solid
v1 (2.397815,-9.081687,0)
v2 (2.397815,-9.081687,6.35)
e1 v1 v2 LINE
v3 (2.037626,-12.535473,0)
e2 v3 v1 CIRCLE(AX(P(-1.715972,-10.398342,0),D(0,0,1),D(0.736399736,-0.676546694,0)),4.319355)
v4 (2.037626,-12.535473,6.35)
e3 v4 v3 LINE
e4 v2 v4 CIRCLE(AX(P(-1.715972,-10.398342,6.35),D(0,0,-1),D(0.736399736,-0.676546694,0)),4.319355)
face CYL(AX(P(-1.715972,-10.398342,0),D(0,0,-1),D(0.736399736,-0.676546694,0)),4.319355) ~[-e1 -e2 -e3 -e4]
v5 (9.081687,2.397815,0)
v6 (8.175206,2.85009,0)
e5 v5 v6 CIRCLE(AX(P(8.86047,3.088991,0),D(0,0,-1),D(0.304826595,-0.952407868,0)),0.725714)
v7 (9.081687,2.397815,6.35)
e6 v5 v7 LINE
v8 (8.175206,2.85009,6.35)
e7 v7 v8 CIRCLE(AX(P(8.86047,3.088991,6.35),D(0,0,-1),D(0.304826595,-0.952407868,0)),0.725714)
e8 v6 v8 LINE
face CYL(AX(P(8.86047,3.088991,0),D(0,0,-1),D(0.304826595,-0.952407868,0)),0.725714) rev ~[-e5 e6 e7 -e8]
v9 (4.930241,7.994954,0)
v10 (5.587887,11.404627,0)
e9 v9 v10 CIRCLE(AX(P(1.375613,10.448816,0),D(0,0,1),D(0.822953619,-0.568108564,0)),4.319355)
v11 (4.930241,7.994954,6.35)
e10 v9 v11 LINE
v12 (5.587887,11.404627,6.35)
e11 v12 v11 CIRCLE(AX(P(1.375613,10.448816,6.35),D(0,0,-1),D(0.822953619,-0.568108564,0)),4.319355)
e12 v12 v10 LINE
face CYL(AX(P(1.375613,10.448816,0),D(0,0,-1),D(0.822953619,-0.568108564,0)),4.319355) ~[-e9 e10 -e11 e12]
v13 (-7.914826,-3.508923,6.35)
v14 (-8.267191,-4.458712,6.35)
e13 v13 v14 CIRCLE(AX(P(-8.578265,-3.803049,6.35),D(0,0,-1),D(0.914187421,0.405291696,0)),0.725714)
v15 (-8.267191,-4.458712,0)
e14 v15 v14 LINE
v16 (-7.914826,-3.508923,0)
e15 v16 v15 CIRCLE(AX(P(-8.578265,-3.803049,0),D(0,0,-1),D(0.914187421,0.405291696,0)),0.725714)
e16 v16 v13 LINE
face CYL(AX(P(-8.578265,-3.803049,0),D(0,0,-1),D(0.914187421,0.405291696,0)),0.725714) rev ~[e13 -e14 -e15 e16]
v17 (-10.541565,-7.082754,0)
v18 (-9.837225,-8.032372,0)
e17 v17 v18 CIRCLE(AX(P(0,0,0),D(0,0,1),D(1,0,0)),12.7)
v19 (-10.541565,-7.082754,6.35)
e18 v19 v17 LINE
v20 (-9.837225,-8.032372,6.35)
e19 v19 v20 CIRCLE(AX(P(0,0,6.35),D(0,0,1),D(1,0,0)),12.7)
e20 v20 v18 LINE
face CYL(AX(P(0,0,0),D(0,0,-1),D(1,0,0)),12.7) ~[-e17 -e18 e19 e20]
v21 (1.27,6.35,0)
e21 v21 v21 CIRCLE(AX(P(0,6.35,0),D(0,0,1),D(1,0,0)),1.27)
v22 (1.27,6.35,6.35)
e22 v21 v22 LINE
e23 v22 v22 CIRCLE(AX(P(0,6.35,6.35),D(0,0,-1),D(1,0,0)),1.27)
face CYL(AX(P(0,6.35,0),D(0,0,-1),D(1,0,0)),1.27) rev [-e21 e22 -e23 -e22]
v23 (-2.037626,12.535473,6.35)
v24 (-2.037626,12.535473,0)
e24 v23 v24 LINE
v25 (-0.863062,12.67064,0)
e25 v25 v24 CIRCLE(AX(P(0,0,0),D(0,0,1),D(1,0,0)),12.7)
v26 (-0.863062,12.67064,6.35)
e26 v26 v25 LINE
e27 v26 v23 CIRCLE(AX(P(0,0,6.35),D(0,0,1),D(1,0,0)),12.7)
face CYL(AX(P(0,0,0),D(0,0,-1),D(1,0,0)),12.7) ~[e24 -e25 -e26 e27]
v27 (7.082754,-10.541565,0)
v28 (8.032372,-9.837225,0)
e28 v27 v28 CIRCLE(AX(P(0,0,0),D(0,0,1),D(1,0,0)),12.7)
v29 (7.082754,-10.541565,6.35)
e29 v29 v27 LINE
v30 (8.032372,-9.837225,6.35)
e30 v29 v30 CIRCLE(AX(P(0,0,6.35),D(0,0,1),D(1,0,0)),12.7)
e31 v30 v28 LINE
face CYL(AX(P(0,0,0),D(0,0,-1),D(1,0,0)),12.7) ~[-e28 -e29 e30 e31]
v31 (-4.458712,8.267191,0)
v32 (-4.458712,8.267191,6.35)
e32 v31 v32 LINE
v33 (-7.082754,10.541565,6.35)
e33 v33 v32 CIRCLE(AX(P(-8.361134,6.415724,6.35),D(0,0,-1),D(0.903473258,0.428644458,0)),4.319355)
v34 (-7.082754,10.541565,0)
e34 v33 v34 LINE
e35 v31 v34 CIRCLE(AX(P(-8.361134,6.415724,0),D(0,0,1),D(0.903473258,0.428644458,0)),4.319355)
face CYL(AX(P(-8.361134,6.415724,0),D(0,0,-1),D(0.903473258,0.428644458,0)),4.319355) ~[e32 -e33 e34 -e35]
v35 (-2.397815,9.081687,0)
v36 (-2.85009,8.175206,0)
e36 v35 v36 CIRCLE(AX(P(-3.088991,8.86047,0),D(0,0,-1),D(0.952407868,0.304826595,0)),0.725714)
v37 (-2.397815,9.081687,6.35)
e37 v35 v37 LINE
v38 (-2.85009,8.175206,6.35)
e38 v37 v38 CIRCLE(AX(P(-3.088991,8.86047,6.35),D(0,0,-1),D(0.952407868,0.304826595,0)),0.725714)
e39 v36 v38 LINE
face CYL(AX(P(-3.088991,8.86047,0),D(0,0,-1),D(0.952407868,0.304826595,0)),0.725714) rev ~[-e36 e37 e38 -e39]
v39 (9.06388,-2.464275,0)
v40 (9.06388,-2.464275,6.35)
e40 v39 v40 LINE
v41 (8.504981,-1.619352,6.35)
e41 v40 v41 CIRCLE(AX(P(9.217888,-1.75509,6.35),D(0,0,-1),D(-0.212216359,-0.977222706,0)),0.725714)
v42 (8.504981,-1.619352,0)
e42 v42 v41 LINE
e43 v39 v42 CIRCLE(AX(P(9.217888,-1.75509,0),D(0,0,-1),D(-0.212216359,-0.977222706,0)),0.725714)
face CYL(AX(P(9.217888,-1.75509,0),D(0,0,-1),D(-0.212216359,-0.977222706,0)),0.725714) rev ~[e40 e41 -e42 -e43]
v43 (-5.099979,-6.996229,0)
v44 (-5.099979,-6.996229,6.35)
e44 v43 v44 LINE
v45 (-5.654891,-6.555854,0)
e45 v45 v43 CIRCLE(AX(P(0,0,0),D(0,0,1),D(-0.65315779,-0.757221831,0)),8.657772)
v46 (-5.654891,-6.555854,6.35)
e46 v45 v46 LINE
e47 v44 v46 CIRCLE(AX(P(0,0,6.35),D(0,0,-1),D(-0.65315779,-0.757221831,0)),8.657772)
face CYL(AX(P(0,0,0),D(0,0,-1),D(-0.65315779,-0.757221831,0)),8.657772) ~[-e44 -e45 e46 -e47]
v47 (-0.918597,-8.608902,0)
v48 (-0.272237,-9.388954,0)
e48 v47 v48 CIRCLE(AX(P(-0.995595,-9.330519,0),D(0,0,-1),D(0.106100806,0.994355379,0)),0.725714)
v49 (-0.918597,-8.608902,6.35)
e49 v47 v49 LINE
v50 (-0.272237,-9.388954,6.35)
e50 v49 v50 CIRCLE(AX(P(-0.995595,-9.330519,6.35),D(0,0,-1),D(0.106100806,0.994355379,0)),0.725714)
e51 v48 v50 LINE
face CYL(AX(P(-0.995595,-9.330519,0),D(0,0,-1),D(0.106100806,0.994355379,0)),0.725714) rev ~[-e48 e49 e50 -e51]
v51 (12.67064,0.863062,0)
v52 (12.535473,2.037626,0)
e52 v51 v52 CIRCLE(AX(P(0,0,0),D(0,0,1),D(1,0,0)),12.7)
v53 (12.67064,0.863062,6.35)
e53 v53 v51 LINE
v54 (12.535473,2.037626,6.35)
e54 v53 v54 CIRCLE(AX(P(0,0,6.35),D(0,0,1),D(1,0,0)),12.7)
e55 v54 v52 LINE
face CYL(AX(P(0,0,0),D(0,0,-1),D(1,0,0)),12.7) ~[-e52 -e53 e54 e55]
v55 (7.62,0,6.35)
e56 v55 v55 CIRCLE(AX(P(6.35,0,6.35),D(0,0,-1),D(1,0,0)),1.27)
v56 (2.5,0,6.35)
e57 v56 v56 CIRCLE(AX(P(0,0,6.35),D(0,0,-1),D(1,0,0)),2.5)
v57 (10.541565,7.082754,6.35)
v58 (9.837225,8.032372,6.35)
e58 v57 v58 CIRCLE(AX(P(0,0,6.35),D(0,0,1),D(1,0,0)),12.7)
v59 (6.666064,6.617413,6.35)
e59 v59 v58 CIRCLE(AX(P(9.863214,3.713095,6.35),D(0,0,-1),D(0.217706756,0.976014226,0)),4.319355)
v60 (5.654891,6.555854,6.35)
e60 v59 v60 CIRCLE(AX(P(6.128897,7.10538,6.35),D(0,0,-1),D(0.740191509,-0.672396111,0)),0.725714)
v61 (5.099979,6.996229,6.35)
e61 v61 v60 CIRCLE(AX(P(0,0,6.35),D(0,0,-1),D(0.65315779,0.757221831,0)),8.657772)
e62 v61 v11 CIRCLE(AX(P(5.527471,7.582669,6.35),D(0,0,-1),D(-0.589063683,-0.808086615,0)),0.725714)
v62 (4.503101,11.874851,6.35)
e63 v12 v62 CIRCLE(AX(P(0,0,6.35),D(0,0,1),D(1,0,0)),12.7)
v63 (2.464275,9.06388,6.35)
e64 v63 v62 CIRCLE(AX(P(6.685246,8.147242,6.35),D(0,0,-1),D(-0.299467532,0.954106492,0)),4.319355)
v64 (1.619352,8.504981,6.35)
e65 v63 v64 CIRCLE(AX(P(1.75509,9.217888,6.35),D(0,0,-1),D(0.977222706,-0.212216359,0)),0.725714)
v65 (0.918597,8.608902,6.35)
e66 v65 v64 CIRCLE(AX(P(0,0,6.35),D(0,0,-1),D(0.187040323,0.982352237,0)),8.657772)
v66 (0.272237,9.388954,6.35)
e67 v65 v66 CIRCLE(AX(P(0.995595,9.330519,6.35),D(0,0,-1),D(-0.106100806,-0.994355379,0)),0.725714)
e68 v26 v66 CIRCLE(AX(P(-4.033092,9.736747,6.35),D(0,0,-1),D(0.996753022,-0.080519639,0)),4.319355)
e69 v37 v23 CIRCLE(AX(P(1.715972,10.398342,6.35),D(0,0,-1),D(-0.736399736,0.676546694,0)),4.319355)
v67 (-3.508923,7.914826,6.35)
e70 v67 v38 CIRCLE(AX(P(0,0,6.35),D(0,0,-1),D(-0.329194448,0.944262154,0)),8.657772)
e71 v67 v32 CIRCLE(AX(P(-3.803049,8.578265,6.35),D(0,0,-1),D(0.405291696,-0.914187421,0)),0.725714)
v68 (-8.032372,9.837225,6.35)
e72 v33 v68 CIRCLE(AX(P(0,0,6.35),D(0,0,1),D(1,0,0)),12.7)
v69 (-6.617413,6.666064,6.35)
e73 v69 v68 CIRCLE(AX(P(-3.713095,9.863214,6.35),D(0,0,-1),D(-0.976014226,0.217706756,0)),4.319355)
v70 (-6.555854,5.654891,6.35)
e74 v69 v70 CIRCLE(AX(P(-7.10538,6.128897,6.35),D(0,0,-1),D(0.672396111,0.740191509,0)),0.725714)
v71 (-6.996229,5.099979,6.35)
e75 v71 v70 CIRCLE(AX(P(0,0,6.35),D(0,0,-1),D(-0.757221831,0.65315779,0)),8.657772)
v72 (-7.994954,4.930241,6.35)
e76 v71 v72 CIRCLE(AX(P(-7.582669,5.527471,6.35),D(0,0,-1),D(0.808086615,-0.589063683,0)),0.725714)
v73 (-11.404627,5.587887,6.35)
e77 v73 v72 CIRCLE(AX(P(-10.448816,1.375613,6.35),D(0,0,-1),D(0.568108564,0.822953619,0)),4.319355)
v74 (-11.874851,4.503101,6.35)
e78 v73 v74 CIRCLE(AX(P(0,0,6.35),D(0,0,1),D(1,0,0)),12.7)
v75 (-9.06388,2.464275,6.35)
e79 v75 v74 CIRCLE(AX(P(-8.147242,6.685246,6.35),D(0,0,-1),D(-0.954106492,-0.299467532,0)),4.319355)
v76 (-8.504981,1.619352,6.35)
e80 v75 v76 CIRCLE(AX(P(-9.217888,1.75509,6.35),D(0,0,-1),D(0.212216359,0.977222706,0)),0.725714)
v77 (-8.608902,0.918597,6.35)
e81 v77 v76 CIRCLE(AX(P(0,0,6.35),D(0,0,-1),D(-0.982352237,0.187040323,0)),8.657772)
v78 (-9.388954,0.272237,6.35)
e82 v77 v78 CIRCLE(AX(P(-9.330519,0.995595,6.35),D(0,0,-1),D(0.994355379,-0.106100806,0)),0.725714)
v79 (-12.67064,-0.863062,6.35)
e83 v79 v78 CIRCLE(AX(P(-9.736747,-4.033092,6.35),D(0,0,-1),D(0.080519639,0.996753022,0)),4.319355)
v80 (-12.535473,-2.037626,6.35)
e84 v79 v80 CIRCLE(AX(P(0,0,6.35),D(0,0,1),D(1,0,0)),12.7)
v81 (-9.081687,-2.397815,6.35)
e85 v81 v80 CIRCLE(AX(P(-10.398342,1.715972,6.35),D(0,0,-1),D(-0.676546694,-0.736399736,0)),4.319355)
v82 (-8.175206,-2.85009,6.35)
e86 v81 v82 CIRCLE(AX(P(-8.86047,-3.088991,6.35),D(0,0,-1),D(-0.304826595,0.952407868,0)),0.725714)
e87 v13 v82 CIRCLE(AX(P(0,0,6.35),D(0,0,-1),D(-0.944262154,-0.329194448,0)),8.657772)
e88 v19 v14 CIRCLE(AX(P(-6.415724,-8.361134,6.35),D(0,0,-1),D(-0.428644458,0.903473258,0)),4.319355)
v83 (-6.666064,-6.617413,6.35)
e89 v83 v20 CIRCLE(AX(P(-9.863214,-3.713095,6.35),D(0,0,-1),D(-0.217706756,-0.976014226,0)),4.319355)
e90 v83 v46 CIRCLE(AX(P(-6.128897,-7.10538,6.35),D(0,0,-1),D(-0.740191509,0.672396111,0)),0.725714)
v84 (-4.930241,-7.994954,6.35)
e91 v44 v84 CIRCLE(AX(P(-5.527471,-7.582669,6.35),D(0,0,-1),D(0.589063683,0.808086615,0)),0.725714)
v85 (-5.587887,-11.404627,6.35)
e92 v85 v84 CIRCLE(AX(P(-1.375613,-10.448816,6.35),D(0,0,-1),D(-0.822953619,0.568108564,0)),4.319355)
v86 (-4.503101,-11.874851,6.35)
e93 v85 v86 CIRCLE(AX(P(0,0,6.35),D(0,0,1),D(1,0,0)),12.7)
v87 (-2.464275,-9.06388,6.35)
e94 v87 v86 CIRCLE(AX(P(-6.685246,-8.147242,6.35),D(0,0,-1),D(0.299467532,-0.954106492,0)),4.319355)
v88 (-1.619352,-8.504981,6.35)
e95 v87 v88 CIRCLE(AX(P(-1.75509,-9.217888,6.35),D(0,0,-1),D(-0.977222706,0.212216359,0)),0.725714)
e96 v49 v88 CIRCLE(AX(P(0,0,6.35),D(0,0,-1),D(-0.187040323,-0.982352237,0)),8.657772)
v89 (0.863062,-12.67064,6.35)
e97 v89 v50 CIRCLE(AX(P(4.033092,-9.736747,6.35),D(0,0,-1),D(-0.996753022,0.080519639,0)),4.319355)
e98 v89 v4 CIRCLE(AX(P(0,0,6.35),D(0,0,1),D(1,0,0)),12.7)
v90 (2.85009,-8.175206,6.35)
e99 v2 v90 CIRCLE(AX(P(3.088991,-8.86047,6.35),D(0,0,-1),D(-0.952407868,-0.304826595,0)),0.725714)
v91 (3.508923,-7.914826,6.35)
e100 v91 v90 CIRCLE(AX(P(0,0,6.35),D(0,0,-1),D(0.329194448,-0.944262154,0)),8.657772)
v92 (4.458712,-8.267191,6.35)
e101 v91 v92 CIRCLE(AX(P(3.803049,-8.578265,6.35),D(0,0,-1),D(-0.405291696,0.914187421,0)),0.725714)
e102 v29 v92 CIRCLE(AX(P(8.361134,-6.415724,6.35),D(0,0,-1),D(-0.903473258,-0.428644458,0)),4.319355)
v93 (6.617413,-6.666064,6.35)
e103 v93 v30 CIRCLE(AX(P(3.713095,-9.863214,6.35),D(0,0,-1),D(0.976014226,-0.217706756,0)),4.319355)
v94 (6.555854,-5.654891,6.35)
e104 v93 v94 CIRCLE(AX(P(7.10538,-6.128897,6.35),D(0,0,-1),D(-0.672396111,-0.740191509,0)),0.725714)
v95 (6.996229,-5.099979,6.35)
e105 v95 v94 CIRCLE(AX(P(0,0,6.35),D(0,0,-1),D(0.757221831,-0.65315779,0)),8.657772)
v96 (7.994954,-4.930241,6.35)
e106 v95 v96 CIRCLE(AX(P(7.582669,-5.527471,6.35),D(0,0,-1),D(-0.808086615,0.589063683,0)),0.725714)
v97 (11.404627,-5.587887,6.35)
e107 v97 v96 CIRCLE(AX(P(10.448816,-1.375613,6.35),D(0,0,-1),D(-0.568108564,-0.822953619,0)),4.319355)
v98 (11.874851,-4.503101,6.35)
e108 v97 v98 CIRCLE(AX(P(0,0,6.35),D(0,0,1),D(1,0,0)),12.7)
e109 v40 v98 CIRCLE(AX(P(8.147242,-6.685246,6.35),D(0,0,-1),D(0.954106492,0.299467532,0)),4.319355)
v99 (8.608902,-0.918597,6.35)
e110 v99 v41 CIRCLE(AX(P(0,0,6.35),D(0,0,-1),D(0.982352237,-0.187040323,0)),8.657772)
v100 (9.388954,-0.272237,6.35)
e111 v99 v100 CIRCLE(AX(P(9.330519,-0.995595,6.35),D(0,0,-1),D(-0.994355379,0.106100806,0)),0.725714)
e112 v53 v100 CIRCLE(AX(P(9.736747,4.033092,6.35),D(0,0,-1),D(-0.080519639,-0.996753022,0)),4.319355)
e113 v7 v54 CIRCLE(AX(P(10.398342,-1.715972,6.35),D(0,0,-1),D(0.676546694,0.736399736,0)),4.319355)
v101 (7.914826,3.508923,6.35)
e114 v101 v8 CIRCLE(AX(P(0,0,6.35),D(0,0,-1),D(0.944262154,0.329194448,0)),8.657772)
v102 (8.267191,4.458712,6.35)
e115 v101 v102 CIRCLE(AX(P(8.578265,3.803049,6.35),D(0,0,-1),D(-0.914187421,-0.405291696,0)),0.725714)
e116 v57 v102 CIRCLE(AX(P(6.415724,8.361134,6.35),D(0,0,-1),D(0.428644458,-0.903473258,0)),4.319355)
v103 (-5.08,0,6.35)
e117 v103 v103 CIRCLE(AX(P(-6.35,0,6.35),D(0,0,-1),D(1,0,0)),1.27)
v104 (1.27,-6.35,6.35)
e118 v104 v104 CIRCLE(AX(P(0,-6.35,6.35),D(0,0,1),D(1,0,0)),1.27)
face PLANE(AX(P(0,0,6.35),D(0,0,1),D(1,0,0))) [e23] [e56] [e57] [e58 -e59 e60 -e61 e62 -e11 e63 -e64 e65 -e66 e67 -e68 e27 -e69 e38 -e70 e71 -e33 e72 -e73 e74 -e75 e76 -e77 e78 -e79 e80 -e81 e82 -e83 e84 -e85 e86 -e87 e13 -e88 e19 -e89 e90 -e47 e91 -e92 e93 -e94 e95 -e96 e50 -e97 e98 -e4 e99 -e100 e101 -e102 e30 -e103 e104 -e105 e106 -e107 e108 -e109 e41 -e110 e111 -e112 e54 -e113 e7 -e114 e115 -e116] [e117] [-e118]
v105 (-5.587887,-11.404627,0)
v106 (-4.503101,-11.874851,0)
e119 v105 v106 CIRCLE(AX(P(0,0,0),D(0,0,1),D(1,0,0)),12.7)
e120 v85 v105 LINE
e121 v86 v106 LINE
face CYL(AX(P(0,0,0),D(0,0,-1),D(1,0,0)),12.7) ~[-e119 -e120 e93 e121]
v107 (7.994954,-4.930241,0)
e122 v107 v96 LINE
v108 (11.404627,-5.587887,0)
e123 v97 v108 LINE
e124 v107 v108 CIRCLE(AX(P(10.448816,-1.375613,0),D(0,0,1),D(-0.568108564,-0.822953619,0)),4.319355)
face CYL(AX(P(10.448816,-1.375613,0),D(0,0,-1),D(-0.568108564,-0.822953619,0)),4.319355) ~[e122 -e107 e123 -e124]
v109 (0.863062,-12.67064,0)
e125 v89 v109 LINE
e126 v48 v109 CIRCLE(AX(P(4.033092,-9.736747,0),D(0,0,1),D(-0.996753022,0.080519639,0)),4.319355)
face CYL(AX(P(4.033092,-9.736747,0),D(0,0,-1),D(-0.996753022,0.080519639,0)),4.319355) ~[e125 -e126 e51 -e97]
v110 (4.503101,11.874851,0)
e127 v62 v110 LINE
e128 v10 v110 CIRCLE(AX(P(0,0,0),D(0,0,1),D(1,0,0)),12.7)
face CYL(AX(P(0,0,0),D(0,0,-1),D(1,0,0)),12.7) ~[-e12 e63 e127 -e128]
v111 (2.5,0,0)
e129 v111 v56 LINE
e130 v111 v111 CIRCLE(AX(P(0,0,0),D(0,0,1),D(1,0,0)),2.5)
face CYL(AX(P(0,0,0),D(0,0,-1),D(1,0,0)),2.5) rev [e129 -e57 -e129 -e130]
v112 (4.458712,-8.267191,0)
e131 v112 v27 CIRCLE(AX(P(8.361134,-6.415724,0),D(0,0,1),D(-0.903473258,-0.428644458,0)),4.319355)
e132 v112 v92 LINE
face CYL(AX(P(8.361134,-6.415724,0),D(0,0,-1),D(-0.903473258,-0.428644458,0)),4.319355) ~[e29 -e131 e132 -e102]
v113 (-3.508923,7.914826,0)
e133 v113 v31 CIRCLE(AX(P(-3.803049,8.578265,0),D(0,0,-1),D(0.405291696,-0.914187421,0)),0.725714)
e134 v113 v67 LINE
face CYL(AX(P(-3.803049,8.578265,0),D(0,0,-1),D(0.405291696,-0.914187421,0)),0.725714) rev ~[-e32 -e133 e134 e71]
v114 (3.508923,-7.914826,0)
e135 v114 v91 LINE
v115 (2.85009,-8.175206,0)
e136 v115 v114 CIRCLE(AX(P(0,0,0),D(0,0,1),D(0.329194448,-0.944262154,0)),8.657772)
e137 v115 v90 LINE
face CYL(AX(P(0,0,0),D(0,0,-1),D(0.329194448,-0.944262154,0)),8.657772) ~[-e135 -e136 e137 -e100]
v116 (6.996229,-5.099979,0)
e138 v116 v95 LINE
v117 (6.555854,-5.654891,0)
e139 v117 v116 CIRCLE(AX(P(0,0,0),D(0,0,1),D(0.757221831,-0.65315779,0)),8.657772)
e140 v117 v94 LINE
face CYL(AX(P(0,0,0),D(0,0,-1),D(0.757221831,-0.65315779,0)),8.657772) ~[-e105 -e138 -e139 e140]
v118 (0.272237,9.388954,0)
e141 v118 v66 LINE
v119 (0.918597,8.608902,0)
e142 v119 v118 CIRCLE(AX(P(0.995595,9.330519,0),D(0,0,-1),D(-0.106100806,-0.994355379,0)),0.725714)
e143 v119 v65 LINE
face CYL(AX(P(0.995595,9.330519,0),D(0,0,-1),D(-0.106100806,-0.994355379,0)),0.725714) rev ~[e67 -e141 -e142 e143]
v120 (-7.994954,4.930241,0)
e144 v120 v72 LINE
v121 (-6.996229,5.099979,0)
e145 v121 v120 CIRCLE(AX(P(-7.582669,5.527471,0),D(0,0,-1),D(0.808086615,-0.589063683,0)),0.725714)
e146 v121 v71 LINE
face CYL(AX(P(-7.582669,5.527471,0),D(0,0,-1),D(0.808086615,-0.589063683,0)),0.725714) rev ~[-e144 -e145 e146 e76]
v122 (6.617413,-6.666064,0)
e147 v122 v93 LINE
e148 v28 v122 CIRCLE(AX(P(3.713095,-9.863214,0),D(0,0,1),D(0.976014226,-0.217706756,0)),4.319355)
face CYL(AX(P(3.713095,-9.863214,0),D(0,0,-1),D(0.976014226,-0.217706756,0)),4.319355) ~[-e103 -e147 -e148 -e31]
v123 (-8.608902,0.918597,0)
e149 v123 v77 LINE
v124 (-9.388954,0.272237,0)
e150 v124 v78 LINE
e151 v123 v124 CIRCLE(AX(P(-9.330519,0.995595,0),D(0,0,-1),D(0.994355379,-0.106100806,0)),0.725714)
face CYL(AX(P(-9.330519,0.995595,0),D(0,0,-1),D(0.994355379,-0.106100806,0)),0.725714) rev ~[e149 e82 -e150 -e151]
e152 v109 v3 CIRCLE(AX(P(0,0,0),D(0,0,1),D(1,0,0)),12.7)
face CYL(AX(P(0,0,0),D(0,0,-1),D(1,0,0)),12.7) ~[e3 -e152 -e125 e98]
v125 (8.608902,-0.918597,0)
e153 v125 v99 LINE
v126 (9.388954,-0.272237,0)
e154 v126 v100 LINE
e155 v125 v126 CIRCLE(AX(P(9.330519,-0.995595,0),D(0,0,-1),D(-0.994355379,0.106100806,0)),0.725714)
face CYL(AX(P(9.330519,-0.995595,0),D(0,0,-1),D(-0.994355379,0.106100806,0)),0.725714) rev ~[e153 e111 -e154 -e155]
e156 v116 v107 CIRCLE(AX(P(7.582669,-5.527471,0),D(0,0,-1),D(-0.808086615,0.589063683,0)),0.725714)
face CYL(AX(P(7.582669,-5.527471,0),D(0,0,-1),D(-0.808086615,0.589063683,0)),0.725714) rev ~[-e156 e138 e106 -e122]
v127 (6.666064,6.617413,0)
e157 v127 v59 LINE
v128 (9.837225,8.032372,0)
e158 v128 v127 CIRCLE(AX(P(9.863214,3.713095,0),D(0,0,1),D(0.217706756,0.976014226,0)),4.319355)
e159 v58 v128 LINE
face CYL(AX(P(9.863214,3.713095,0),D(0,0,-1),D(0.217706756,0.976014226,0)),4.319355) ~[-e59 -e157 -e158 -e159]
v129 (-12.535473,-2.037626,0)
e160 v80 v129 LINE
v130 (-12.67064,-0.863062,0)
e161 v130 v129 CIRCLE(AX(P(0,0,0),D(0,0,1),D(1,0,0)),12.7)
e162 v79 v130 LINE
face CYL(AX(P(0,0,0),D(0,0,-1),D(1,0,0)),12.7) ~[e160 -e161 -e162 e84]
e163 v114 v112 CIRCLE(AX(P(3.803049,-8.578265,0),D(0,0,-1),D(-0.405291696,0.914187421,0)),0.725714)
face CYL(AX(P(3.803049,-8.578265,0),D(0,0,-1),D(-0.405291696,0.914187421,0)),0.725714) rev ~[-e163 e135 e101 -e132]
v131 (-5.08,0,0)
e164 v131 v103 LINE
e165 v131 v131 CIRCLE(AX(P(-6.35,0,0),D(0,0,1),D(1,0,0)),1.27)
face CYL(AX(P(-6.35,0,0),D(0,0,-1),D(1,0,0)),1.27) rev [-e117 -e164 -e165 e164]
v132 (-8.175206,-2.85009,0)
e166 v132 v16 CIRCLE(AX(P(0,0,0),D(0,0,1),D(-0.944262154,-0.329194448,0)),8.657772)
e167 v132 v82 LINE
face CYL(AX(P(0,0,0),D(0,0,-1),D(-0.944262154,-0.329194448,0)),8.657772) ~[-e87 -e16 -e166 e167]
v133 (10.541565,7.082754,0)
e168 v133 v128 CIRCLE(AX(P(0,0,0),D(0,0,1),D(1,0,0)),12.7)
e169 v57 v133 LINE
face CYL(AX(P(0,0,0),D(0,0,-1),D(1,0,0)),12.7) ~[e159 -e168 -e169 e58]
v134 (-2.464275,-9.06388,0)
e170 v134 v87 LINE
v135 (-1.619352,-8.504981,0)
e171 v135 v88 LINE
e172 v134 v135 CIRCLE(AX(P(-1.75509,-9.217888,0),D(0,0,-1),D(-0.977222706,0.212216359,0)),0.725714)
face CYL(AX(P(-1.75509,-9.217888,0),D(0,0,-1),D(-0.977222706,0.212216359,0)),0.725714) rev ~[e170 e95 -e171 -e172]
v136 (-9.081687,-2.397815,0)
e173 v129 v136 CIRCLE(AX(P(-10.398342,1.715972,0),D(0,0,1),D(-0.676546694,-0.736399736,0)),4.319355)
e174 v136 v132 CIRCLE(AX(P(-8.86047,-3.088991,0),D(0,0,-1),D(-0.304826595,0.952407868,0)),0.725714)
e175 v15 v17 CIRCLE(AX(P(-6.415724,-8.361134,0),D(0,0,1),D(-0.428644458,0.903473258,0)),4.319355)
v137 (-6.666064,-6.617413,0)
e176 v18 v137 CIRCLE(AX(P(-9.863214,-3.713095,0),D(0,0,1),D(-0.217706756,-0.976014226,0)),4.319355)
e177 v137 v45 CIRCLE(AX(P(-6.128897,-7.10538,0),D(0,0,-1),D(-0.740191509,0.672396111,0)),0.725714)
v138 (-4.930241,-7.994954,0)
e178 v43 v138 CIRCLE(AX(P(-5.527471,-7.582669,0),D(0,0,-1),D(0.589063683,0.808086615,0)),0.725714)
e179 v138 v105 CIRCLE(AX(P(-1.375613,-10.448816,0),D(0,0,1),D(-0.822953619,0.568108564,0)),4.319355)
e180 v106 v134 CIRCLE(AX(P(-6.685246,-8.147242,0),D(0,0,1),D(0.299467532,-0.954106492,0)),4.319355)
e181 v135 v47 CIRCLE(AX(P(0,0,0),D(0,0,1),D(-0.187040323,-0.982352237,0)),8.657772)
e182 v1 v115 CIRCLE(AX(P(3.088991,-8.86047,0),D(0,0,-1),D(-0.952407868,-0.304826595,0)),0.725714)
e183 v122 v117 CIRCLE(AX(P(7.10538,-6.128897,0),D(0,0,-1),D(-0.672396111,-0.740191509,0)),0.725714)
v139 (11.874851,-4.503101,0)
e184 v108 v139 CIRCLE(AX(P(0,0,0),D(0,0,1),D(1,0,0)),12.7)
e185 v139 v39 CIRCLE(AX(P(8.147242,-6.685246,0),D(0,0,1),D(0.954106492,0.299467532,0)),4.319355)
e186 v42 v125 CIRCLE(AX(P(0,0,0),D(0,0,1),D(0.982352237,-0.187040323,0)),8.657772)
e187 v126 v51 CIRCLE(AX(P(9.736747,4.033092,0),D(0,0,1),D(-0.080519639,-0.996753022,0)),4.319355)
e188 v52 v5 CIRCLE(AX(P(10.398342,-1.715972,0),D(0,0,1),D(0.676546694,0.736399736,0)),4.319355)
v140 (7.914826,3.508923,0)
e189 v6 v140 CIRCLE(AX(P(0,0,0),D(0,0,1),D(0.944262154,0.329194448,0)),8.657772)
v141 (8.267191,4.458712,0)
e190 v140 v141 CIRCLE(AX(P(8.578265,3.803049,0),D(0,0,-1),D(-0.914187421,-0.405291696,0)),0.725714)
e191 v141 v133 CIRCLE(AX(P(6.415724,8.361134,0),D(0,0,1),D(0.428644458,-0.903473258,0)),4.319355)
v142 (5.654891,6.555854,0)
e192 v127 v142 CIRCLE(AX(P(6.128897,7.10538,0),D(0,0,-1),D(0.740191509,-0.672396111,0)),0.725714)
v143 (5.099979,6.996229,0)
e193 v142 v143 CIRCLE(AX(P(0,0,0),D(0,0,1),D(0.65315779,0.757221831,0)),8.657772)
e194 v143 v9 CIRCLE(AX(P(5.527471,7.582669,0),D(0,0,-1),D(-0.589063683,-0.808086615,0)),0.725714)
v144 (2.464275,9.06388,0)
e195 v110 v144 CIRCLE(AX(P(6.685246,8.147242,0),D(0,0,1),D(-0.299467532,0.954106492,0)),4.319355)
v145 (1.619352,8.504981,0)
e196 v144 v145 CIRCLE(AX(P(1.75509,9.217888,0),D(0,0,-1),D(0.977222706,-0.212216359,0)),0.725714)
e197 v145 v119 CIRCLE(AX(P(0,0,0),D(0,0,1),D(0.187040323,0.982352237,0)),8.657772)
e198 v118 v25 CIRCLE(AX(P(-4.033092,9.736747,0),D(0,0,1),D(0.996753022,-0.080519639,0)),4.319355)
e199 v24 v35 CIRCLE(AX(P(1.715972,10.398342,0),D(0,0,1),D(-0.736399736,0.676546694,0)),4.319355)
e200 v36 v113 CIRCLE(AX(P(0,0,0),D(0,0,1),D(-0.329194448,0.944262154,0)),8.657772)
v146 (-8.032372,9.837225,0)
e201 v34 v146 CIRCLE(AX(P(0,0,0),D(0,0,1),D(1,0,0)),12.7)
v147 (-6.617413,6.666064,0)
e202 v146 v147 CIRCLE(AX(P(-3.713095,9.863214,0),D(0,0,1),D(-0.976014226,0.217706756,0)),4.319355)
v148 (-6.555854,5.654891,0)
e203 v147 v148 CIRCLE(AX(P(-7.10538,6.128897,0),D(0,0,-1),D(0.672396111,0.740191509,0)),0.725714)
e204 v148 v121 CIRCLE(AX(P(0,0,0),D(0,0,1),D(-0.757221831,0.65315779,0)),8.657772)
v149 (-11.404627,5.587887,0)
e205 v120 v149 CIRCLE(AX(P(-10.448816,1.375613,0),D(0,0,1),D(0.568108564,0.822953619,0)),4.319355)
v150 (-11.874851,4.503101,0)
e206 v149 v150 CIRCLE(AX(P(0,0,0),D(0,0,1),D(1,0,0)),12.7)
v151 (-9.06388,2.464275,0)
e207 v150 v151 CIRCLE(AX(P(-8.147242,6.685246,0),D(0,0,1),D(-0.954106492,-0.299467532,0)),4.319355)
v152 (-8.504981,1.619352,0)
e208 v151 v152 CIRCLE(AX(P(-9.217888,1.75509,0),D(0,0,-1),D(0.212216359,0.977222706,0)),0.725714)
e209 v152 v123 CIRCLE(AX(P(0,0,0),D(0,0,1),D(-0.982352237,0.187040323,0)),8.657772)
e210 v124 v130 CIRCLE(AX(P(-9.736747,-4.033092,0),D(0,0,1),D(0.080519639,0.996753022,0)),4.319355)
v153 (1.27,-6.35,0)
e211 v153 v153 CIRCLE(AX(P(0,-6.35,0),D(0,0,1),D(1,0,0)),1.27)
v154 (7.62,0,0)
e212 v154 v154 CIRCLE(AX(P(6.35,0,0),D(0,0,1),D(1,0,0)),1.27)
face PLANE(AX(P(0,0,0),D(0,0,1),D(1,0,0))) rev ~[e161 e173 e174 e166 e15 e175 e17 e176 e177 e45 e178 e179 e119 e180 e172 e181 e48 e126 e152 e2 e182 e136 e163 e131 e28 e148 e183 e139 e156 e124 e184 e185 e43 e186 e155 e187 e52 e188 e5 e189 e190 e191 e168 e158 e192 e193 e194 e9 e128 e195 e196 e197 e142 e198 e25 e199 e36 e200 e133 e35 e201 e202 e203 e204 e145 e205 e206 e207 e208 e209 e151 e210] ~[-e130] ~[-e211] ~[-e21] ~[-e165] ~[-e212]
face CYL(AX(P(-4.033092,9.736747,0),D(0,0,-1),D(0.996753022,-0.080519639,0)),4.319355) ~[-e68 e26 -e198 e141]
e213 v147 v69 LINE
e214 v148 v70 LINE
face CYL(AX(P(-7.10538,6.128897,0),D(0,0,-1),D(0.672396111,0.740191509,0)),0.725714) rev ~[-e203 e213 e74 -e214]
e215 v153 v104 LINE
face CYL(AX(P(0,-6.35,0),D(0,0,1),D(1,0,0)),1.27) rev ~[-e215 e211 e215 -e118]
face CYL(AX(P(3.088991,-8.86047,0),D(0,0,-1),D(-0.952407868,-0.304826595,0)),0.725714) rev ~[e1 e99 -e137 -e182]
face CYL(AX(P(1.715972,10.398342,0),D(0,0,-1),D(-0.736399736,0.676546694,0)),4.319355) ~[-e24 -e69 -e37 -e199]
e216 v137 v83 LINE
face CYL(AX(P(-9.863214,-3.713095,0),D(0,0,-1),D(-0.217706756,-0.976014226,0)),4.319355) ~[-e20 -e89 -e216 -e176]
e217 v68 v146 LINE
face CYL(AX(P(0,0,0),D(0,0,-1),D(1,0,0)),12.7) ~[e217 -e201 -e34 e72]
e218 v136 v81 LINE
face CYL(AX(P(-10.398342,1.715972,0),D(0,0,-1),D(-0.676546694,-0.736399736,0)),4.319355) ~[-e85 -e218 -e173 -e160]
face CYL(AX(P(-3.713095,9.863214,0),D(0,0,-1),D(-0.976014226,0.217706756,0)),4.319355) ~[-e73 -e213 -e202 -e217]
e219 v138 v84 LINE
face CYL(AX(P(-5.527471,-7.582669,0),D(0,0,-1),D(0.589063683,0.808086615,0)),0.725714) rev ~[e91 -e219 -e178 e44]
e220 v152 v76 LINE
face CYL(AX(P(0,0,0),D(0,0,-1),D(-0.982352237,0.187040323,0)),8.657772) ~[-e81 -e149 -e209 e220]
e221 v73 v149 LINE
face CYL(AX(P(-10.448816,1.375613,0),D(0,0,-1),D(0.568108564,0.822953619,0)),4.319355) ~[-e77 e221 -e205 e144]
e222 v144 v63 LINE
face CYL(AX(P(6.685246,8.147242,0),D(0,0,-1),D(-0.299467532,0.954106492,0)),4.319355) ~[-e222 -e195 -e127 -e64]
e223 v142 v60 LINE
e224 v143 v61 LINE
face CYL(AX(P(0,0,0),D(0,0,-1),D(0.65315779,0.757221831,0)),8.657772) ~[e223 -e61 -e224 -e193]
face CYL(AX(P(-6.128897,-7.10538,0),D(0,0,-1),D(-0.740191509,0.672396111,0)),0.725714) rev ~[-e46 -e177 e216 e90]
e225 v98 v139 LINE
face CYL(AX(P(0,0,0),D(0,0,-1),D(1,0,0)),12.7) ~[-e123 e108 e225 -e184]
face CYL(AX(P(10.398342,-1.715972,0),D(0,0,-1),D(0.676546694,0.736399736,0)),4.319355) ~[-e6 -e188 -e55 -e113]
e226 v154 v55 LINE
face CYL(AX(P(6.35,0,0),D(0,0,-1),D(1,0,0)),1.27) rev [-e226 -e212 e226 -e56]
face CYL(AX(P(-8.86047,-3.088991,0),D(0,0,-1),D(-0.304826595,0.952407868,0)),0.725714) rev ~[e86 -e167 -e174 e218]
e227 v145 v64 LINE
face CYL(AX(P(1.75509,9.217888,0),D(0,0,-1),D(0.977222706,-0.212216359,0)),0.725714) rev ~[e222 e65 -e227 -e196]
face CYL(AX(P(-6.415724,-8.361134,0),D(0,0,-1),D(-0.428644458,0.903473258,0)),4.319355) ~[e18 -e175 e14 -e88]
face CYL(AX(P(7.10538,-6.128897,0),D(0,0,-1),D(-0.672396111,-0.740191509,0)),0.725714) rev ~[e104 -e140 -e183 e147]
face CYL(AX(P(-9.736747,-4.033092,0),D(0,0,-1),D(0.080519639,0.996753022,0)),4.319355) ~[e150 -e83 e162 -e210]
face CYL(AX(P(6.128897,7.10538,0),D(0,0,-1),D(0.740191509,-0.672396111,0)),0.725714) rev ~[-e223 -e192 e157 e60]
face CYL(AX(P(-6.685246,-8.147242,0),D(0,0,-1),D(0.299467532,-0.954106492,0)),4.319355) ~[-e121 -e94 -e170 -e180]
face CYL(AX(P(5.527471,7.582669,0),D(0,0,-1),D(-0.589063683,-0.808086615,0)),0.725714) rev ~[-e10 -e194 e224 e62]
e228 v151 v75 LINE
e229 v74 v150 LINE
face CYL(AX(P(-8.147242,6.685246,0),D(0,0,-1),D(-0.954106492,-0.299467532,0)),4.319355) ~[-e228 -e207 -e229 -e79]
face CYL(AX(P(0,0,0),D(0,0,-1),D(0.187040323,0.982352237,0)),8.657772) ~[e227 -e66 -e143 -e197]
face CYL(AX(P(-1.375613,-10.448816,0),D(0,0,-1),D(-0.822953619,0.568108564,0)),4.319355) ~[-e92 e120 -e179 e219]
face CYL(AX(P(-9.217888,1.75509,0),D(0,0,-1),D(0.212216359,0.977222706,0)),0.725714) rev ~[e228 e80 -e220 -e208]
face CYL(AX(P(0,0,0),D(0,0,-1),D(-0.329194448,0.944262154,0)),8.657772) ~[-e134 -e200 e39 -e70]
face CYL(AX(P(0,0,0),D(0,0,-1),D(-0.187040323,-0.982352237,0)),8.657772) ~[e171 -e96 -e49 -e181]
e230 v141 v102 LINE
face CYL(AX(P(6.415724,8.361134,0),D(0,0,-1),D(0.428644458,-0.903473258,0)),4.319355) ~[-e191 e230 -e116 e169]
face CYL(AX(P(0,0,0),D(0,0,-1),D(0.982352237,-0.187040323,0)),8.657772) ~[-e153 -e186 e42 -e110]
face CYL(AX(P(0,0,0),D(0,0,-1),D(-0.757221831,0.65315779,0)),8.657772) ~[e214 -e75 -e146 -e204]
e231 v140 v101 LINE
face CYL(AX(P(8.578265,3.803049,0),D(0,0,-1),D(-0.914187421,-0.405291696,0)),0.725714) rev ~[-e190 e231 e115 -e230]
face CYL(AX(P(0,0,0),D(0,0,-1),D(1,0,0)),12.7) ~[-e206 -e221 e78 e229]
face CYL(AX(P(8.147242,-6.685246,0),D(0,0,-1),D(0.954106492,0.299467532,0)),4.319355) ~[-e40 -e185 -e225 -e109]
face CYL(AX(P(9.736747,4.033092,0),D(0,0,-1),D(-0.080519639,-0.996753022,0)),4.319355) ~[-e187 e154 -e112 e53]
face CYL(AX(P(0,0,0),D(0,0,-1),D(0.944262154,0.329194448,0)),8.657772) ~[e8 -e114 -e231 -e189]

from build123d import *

# Parameters (mm, degrees)
SKETCH3_R         = 12.7
GEARBODY_DEPTH    = 6.35
TOOTHCUT_DEPTH    = 20.05
CIRPATTERN1_COUNT = 12
BOREDIA_R         = 2.5
BOREDIA_R_2       = 1.27
BORE_DEPTH        = 12700


with BuildPart() as part:
    # Sketch3 → gearBody (new body)
    with BuildSketch(Plane.XY):
        Circle(SKETCH3_R)
    extrude(amount=GEARBODY_DEPTH)

    # Sketch2 → toothCut (cut, through all)
    with BuildSketch(Plane.XY):
        with BuildLine():
            ThreePointArc((8.504981128, -1.619352377), (8.564111751, -1.270037802), (8.608901587, -0.918596522))
            ThreePointArc((8.608901587, -0.918596522), (8.867488023, -0.436790342), (9.388953743, -0.272237485))
            ThreePointArc((9.388953743, -0.272237485), (11.599176183, 0.135890641), (13.30511426, 1.599252209))
            ThreePointArc((13.30511426, 1.599252209), (13.255912686, -1.96582094), (12.268366453, -5.391739765))
            ThreePointArc((12.268366453, -5.391739765), (11.060534793, -3.49627294), (9.063879737, -2.464274691))
            ThreePointArc((9.063879737, -2.464274691), (8.61261217, -2.155467755), (8.504981128, -1.619352377))
        make_face()
    toothcut = extrude(amount=TOOTHCUT_DEPTH, mode=Mode.SUBTRACT)

    # CirPattern1: toothCut ×12 about axis
    cirpattern1_axis = Axis((0, 0, 6.35), (0, 0, -1))
    for i in range(1, CIRPATTERN1_COUNT):
        add(toothcut.rotate(cirpattern1_axis, i * 360 / CIRPATTERN1_COUNT), mode=Mode.SUBTRACT)

    # boreDia → bore (cut, symmetric)
    with BuildSketch(Plane.XY):
        Circle(BOREDIA_R)
        with Locations((0, 6.35)):
            Circle(BOREDIA_R_2)
        with Locations((6.35, 0)):
            Circle(BOREDIA_R_2)
        with Locations((-6.35, 0)):
            Circle(BOREDIA_R_2)
        with Locations((0, -6.35)):
            Circle(BOREDIA_R_2)
    extrude(amount=BORE_DEPTH, both=True, mode=Mode.SUBTRACT)


solid = part.part
